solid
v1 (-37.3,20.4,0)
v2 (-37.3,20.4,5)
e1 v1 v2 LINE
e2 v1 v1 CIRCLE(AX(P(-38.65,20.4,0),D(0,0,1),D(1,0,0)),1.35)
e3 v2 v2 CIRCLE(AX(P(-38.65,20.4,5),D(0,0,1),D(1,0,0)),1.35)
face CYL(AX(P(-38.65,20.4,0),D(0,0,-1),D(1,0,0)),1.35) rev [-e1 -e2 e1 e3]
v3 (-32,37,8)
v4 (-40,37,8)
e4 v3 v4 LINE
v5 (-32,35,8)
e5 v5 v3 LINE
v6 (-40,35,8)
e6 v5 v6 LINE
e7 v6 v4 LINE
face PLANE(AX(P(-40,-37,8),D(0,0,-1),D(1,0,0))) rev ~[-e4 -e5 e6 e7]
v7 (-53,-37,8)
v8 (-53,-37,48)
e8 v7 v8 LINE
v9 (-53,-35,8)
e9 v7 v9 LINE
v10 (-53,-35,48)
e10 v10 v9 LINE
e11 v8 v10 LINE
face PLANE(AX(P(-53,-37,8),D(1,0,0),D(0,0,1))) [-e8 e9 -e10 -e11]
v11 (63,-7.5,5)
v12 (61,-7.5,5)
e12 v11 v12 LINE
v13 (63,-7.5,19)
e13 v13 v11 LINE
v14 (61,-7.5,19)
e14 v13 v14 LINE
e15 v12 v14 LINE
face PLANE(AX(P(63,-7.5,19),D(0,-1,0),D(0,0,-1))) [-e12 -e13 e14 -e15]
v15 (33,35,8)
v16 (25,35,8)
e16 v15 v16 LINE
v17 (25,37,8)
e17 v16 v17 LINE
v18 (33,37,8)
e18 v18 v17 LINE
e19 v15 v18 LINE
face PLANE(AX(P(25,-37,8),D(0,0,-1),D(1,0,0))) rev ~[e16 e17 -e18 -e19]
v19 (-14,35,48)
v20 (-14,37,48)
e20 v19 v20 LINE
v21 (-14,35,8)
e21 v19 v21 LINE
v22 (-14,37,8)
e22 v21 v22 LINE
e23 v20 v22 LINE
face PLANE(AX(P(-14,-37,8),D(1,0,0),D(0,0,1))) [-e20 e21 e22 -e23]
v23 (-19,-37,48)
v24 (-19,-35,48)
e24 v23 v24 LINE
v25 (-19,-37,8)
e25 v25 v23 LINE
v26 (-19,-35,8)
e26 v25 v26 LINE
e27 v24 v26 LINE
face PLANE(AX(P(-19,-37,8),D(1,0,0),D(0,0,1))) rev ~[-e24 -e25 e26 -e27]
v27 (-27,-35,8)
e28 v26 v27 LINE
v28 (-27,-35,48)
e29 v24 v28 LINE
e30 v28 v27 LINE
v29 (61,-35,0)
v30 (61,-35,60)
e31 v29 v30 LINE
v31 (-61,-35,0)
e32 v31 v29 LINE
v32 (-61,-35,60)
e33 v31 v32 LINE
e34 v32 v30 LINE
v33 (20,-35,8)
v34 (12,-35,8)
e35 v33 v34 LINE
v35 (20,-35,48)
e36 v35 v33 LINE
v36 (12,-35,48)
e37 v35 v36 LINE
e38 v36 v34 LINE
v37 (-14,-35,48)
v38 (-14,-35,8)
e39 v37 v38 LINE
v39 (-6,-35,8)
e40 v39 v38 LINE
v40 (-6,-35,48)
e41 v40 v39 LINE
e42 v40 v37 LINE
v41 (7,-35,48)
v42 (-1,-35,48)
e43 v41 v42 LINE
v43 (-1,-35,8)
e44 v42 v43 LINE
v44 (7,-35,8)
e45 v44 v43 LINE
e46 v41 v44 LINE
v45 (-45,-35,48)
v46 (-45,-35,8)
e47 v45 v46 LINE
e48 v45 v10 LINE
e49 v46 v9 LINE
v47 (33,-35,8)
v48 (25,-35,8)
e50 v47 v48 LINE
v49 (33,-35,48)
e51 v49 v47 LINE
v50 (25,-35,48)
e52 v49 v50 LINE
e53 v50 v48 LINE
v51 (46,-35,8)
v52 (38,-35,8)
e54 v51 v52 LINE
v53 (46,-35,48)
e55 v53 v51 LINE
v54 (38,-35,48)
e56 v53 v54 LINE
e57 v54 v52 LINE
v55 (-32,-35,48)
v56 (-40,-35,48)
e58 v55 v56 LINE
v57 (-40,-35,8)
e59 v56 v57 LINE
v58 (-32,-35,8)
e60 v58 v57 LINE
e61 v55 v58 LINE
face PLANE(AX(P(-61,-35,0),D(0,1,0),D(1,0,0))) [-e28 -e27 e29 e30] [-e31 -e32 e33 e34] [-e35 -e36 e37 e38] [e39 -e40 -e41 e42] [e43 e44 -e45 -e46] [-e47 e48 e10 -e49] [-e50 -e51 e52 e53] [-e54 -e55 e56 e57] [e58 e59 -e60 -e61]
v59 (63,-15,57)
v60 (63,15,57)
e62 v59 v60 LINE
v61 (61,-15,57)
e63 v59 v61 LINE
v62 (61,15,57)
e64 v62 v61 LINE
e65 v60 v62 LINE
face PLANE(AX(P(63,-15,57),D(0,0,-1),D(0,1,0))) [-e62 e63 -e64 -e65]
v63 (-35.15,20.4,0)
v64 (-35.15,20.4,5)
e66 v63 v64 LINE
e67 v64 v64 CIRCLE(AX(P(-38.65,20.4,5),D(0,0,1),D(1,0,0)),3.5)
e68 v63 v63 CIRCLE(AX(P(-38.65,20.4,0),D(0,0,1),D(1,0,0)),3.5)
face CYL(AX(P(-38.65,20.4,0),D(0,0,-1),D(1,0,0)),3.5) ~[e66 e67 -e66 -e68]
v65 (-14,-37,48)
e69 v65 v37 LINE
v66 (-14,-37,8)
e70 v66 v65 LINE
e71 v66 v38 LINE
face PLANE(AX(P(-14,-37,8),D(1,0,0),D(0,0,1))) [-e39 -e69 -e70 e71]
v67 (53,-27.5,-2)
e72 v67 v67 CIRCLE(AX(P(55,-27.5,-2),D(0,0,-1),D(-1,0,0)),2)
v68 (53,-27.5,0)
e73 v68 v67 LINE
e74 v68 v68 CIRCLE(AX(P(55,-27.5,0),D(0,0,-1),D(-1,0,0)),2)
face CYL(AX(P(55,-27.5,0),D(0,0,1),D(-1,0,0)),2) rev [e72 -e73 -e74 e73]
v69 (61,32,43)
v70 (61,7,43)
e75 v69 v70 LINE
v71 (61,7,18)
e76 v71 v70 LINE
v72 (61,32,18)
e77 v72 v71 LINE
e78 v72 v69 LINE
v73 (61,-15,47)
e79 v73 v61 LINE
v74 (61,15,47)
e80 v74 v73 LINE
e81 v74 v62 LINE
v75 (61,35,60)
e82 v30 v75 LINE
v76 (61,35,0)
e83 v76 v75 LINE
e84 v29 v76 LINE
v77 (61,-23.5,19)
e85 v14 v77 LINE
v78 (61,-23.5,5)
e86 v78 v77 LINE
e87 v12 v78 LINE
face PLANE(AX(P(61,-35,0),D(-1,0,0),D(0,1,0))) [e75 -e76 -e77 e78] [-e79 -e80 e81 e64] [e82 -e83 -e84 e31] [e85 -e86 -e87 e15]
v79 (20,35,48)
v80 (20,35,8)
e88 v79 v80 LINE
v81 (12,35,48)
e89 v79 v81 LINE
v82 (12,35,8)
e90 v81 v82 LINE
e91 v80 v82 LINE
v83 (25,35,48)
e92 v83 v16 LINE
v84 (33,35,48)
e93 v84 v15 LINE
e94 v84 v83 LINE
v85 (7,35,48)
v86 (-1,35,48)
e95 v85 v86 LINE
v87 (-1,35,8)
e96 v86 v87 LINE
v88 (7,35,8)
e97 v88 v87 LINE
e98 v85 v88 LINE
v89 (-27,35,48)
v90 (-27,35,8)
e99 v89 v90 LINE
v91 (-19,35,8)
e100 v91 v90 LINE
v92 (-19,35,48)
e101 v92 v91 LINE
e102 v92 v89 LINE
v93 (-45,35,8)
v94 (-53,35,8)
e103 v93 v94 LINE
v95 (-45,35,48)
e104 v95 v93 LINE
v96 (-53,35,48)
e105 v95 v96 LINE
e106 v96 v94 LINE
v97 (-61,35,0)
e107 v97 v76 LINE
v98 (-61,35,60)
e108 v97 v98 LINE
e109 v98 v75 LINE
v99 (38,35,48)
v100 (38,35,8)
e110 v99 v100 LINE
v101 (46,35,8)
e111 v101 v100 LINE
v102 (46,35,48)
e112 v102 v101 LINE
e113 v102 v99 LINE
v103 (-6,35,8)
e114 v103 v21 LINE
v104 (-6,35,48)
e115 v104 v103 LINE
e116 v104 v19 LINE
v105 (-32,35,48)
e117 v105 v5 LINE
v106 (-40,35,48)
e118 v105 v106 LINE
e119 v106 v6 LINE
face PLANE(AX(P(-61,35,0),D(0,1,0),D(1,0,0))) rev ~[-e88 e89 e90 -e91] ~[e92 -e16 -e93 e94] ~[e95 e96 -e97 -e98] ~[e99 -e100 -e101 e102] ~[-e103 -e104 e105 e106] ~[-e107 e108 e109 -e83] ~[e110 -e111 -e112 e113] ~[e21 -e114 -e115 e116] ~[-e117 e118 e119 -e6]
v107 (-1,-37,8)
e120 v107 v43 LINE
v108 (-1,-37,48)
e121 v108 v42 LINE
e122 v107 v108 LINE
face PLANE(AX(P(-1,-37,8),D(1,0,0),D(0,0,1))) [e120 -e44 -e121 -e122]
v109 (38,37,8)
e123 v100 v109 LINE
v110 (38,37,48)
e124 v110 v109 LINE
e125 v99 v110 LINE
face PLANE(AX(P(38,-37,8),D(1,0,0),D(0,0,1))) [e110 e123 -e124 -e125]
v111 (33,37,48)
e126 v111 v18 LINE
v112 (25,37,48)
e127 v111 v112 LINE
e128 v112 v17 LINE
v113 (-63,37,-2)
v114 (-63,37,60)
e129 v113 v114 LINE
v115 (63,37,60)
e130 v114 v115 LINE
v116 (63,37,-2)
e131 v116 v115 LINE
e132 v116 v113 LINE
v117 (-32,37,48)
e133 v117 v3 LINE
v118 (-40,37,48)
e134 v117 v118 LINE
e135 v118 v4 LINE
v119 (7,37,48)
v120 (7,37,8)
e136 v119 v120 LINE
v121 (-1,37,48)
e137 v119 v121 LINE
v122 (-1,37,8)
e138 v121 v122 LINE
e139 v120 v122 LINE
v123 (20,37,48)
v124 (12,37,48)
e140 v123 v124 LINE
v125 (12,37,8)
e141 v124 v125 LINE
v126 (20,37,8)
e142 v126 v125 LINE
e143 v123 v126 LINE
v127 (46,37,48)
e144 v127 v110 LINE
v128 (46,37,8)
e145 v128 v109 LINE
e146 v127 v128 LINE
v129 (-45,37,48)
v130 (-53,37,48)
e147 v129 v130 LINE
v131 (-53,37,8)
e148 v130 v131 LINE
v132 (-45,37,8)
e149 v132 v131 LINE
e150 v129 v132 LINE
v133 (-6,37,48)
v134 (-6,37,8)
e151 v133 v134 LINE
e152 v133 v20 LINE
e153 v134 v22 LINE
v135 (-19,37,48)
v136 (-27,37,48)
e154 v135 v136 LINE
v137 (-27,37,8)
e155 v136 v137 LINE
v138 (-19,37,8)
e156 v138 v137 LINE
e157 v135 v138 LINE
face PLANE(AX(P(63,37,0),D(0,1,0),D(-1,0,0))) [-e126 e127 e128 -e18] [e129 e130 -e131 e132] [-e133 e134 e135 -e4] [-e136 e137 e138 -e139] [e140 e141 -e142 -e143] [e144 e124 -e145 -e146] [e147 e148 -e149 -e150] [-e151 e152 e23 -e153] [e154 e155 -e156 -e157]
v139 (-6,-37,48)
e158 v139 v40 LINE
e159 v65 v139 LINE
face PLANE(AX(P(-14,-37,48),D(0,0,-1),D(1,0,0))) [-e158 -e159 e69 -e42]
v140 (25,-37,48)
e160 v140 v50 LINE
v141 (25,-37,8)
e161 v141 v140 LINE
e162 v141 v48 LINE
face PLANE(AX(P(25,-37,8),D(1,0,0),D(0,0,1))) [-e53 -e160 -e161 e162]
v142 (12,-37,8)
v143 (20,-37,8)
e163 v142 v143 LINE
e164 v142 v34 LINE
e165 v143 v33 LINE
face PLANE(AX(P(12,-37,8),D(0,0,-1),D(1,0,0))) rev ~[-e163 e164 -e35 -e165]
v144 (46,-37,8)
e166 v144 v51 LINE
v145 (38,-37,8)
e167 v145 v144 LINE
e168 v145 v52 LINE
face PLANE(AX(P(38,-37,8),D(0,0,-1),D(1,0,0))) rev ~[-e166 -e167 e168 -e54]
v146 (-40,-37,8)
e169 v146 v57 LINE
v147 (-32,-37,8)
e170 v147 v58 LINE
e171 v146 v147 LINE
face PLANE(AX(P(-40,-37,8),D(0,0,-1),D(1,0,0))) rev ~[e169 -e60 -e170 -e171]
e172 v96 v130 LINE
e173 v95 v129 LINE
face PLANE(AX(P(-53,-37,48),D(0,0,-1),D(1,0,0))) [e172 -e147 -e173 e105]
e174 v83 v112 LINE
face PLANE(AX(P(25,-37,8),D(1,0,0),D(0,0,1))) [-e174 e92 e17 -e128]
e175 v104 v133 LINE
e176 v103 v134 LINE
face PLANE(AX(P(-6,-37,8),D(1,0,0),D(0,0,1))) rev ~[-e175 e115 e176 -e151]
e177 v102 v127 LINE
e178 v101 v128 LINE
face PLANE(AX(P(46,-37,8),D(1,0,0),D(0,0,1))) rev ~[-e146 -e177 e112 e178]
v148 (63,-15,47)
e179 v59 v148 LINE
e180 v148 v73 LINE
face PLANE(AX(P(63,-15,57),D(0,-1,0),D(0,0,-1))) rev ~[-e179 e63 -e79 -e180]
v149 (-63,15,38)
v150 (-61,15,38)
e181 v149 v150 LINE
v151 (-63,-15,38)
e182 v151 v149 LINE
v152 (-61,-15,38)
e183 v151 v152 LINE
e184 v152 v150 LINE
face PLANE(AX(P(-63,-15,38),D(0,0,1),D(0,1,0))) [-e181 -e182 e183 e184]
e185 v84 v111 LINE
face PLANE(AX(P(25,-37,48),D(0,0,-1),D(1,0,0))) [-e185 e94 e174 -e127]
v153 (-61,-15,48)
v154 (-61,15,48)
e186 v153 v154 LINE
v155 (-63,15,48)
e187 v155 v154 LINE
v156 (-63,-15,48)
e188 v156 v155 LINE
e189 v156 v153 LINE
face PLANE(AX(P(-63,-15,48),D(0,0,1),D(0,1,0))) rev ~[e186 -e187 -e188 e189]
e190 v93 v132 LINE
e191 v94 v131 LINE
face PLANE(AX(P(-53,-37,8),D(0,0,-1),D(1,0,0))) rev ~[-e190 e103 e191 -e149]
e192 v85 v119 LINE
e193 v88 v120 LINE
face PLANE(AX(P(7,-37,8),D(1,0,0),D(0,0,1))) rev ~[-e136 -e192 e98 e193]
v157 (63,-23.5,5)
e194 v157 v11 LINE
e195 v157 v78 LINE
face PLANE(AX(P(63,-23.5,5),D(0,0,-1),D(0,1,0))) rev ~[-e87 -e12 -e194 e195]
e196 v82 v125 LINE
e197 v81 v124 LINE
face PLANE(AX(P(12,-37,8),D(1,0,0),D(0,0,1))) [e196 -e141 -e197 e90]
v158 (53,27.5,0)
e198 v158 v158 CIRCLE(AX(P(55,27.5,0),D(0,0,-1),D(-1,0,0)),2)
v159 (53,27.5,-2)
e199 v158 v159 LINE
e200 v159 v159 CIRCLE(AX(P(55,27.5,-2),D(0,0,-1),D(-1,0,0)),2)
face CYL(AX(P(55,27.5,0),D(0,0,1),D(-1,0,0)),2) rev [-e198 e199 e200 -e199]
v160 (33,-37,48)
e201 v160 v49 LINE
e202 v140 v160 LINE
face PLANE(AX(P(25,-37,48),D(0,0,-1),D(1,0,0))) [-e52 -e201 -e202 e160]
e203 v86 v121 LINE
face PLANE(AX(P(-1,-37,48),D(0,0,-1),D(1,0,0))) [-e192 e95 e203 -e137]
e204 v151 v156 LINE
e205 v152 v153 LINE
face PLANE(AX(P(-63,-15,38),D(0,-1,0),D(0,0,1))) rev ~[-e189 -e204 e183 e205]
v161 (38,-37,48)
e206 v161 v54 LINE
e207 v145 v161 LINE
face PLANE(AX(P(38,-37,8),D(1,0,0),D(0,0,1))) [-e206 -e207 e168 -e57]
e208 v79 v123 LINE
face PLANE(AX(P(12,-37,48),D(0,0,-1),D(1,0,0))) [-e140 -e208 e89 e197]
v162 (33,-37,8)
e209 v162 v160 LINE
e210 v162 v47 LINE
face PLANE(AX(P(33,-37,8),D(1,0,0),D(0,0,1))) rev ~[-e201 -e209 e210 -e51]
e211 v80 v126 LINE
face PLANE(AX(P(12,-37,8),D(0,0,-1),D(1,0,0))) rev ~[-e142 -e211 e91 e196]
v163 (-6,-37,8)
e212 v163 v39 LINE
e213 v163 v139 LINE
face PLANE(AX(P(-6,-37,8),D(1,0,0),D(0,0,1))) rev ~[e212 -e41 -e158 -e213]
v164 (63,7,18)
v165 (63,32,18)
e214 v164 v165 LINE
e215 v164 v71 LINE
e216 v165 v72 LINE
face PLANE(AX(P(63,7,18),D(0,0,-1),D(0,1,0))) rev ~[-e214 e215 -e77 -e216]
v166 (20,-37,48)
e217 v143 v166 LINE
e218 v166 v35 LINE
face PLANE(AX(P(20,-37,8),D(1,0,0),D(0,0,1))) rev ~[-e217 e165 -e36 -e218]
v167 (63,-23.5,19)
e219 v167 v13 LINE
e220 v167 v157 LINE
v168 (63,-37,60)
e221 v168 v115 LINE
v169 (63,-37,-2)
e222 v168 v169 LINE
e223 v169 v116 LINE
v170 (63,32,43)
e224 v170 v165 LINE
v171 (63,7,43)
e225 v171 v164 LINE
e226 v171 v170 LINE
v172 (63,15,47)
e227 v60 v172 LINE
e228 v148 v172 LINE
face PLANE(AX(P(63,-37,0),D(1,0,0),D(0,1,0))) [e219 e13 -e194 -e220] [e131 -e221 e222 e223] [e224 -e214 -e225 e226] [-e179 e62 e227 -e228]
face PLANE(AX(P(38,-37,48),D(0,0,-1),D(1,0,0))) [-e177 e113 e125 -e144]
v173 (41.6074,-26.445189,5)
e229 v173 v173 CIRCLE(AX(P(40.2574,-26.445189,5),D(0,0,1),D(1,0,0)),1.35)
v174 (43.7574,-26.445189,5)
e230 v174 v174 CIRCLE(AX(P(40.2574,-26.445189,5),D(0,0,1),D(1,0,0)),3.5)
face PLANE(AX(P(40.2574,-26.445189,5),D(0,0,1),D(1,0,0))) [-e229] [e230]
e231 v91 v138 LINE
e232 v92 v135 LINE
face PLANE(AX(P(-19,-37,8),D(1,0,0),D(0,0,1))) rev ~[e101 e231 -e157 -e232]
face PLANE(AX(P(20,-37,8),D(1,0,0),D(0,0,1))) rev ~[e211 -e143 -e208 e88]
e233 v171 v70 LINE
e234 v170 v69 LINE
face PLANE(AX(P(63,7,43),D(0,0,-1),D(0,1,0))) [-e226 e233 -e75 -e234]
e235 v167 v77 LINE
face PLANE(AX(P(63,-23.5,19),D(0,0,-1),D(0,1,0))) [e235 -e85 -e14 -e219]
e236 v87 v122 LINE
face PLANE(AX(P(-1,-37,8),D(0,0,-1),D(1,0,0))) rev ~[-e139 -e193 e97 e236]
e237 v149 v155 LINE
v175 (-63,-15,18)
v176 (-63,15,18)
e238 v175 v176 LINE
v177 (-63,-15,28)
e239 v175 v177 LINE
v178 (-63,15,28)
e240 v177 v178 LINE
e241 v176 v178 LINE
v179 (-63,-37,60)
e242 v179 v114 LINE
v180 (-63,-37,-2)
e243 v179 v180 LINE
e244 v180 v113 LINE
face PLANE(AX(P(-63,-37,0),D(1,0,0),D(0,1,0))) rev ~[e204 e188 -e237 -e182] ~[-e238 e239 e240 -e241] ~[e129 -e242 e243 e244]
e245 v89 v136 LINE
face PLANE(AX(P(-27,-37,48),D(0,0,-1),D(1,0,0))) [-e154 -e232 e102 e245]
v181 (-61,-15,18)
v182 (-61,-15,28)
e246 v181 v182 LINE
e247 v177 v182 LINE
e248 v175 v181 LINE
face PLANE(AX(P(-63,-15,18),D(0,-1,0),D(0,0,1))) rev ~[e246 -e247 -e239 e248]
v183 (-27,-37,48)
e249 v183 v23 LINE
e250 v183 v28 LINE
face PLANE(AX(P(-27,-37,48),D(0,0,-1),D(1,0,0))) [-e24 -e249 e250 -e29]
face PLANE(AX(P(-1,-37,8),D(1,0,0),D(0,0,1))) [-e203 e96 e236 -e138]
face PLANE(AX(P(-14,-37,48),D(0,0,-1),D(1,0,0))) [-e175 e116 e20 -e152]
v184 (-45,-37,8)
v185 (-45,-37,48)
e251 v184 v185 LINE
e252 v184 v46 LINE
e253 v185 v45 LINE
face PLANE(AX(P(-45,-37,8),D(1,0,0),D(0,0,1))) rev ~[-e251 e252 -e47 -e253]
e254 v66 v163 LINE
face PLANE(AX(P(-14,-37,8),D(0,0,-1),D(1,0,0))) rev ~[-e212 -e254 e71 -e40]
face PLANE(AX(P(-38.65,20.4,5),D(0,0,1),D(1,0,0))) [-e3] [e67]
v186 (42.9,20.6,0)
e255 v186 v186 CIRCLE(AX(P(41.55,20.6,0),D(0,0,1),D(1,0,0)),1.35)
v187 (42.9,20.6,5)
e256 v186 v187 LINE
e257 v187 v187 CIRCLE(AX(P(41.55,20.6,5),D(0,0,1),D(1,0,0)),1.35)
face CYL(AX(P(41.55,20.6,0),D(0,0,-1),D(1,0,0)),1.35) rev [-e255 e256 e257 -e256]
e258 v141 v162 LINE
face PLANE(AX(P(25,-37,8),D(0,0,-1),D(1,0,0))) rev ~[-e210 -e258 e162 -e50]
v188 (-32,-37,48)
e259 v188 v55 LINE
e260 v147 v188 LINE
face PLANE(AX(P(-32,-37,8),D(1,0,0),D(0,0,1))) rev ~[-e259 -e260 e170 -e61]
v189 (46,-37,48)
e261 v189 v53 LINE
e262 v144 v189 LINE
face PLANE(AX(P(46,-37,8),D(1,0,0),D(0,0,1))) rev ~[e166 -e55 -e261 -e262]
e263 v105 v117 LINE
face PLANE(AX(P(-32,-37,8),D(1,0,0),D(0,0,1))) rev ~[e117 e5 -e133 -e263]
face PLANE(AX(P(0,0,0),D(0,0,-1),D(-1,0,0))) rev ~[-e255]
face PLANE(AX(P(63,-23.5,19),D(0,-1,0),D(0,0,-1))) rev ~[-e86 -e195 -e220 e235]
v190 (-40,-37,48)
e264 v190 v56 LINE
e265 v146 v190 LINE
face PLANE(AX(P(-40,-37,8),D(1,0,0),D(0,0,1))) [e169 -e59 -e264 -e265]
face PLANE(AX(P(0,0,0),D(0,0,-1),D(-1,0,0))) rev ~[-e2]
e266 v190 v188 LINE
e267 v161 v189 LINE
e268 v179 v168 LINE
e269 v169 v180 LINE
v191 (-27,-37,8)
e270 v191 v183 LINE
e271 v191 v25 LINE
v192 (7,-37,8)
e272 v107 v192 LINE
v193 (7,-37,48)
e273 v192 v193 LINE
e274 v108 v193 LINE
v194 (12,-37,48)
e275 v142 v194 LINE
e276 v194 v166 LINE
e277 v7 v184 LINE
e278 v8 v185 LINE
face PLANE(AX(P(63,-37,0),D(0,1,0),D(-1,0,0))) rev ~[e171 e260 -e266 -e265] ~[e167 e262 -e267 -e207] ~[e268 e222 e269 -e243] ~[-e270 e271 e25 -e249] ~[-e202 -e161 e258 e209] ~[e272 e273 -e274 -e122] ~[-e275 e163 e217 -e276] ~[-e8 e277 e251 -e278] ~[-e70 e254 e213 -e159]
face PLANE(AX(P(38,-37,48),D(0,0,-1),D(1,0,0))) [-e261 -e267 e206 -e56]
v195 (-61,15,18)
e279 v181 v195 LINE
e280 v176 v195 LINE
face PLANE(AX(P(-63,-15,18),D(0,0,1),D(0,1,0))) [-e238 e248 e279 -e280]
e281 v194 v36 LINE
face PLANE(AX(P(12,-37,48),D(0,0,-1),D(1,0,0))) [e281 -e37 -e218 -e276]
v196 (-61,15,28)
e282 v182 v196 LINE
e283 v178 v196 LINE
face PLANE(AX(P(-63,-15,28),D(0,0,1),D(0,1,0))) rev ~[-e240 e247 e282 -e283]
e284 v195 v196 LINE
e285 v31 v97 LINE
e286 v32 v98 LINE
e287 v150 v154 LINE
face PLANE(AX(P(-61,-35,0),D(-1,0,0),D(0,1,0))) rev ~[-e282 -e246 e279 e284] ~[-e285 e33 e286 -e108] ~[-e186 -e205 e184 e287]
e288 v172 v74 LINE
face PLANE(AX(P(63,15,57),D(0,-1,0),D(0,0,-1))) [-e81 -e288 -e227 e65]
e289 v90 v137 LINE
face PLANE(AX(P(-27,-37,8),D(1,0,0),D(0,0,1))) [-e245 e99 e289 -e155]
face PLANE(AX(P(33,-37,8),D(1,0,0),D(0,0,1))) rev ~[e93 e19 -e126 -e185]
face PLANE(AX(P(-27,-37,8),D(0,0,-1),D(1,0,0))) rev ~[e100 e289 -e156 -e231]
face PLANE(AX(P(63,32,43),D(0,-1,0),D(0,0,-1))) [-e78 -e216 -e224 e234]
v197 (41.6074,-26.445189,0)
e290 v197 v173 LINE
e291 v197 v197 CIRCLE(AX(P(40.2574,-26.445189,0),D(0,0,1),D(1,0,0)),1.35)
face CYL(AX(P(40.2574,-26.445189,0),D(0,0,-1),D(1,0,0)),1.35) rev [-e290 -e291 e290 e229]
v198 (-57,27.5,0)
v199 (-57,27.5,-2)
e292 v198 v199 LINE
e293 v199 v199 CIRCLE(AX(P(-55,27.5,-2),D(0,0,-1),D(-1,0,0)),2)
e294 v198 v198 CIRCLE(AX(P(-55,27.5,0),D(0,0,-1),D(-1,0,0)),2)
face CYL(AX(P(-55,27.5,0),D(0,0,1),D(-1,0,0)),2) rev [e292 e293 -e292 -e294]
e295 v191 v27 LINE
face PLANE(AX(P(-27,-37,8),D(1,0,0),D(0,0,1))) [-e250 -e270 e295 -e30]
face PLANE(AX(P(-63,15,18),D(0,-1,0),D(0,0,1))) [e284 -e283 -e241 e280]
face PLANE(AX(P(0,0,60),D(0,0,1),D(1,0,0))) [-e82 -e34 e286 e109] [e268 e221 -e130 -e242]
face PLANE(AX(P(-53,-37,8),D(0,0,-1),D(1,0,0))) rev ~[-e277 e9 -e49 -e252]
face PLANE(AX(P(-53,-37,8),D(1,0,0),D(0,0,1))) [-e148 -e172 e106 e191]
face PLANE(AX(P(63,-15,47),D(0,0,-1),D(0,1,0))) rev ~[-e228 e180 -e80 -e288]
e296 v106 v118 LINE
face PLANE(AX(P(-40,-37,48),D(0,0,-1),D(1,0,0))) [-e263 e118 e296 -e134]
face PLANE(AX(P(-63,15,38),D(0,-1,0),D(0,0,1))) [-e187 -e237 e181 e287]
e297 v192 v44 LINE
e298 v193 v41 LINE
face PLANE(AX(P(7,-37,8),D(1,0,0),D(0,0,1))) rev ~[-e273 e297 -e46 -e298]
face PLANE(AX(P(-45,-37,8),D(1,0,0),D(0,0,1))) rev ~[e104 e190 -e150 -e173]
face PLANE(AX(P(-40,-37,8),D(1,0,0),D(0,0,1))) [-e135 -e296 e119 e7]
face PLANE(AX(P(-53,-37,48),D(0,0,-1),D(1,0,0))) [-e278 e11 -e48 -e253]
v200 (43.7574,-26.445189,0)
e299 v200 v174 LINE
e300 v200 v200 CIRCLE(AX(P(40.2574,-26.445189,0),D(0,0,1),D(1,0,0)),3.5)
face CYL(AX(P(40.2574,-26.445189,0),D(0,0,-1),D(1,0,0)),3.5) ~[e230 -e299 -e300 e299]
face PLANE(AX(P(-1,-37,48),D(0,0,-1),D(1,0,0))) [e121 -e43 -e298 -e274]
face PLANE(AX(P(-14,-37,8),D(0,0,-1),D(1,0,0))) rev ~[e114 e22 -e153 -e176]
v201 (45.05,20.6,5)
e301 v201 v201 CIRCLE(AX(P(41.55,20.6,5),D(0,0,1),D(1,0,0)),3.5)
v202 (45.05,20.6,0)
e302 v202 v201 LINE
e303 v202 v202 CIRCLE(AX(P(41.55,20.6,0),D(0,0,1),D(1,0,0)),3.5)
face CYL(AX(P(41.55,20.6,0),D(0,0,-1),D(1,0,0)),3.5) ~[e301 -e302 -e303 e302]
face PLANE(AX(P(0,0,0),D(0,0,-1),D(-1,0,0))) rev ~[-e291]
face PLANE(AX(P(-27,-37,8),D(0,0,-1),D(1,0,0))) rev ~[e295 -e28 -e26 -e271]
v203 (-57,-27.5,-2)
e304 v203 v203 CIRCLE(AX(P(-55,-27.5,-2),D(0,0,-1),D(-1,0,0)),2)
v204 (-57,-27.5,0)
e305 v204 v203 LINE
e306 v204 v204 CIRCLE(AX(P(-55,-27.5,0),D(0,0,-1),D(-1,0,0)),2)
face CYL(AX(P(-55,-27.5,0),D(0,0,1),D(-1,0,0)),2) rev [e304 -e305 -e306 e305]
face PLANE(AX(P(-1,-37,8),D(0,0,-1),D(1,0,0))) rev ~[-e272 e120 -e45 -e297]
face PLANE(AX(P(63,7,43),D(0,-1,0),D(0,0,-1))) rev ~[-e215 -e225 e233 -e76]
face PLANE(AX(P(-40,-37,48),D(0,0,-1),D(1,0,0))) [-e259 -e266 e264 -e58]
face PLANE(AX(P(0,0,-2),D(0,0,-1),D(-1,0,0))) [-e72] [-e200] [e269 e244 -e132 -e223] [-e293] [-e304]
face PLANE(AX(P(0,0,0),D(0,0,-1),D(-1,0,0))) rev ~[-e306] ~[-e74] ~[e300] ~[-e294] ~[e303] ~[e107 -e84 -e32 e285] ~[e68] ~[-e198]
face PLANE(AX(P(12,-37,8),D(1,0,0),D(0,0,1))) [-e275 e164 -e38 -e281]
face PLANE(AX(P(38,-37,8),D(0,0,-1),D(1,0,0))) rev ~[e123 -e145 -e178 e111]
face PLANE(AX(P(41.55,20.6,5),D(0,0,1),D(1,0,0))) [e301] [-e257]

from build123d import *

# Parameters (mm, degrees)
ESBO_O1_W                = 126
ESBO_O1_H                = 74
ESBO_O1_W_2              = 122
ESBO_O1_H_2              = 70
RESSALTO_EXTRUS_O1_DEPTH = 60
ESBO_O2_W                = 126
ESBO_O2_H                = 74
ESBO_O2_R                = 2
RESSALTO_EXTRUS_O2_DEPTH = 2
ESBO_O3_W                = 25
ESBO_O3_H                = 25
ESBO_O3_W_2              = 14
ESBO_O3_H_2              = 16
ESBO_O3_W_3              = 10
ESBO_O3_H_3              = 30
CORTE_EXTRUS_O1_DEPTH    = 10
ESBO_O6_W                = 8
ESBO_O6_H                = 40
CORTE_EXTRUS_O2_DEPTH    = 115.214710086
ESBO_O7_W                = 10
ESBO_O7_H                = 30
CORTE_EXTRUS_O3_DEPTH    = 12
ESBO_O8_R                = 3.5
ESBO_O8_R_2              = 1.35
RESSALTO_EXTRUS_O3_DEPTH = 5


with BuildPart() as part:
    # Esboço1 → Ressalto-extrusão1 (new body)
    with BuildSketch(Plane.XY):
        Rectangle(ESBO_O1_W, ESBO_O1_H)
        Rectangle(ESBO_O1_W_2, ESBO_O1_H_2, mode=Mode.SUBTRACT)
    extrude(amount=RESSALTO_EXTRUS_O1_DEPTH)

    # Esboço2 → Ressalto-extrusão2 (add)
    with BuildSketch(Plane(origin=(0, 0, 0), x_dir=(-1, 0, 0), z_dir=(0, 0, -1))):
        Rectangle(ESBO_O2_W, ESBO_O2_H)
        with Locations((-55, -27.5)):
            Circle(ESBO_O2_R, mode=Mode.SUBTRACT)
        with Locations((55, -27.5)):
            Circle(ESBO_O2_R, mode=Mode.SUBTRACT)
        with Locations((55, 27.5)):
            Circle(ESBO_O2_R, mode=Mode.SUBTRACT)
        with Locations((-55, 27.5)):
            Circle(ESBO_O2_R, mode=Mode.SUBTRACT)
    extrude(amount=RESSALTO_EXTRUS_O2_DEPTH)

    # Esboço3 → Corte-extrusão1 (cut)
    with BuildSketch(Plane(origin=(63, 0, 0), x_dir=(0, 0, -1), z_dir=(1, 0, 0))):
        with Locations((-30.5, 19.5)):
            Rectangle(ESBO_O3_W, ESBO_O3_H)
        with Locations((-12, -15.5)):
            Rectangle(ESBO_O3_W_2, ESBO_O3_H_2)
        with Locations((-52, 0)):
            Rectangle(ESBO_O3_W_3, ESBO_O3_H_3)
    extrude(amount=-CORTE_EXTRUS_O1_DEPTH, mode=Mode.SUBTRACT)

    # Esboço6 → Corte-extrusão2 (cut, through all)
    with BuildSketch(Plane.XZ.offset(37)):
        with Locations((-49, 28)):
            Rectangle(ESBO_O6_W, ESBO_O6_H)
        with Locations((-36, 28)):
            Rectangle(ESBO_O6_W, ESBO_O6_H)
        with Locations((-23, 28)):
            Rectangle(ESBO_O6_W, ESBO_O6_H)
        with Locations((-10, 28)):
            Rectangle(ESBO_O6_W, ESBO_O6_H)
        with Locations((3, 28)):
            Rectangle(ESBO_O6_W, ESBO_O6_H)
        with Locations((16, 28)):
            Rectangle(ESBO_O6_W, ESBO_O6_H)
        with Locations((29, 28)):
            Rectangle(ESBO_O6_W, ESBO_O6_H)
        with Locations((42, 28)):
            Rectangle(ESBO_O6_W, ESBO_O6_H)
    extrude(amount=-CORTE_EXTRUS_O2_DEPTH, mode=Mode.SUBTRACT)

    # Esboço7 → Corte-extrusão3 (cut)
    with BuildSketch(Plane.ZY.offset(63)):
        with Locations((43, 0)):
            Rectangle(ESBO_O7_W, ESBO_O7_H)
        with Locations((23, 0)):
            Rectangle(ESBO_O7_W, ESBO_O7_H)
    extrude(amount=-CORTE_EXTRUS_O3_DEPTH, mode=Mode.SUBTRACT)

    # Esboço8 → Ressalto-extrusão3 (add)
    # profile 1 of 3: a face of its own
    with BuildSketch(Plane.XY):
        with Locations((-38.65, 20.4)):
            Circle(ESBO_O8_R)
        with Locations((-38.65, 20.4)):
            Circle(ESBO_O8_R_2, mode=Mode.SUBTRACT)
    # profile 2 of 3: a face of its own
    with BuildSketch(Plane.XY):
        with Locations((40.257399983, -26.445189119)):
            Circle(ESBO_O8_R)
        with Locations((40.257399983, -26.445189119)):
            Circle(ESBO_O8_R_2, mode=Mode.SUBTRACT)
    # profile 3 of 3: a face of its own
    with BuildSketch(Plane.XY):
        with Locations((41.55, 20.6)):
            Circle(ESBO_O8_R)
        with Locations((41.55, 20.6)):
            Circle(ESBO_O8_R_2, mode=Mode.SUBTRACT)
    extrude(amount=RESSALTO_EXTRUS_O3_DEPTH)


solid = part.part
